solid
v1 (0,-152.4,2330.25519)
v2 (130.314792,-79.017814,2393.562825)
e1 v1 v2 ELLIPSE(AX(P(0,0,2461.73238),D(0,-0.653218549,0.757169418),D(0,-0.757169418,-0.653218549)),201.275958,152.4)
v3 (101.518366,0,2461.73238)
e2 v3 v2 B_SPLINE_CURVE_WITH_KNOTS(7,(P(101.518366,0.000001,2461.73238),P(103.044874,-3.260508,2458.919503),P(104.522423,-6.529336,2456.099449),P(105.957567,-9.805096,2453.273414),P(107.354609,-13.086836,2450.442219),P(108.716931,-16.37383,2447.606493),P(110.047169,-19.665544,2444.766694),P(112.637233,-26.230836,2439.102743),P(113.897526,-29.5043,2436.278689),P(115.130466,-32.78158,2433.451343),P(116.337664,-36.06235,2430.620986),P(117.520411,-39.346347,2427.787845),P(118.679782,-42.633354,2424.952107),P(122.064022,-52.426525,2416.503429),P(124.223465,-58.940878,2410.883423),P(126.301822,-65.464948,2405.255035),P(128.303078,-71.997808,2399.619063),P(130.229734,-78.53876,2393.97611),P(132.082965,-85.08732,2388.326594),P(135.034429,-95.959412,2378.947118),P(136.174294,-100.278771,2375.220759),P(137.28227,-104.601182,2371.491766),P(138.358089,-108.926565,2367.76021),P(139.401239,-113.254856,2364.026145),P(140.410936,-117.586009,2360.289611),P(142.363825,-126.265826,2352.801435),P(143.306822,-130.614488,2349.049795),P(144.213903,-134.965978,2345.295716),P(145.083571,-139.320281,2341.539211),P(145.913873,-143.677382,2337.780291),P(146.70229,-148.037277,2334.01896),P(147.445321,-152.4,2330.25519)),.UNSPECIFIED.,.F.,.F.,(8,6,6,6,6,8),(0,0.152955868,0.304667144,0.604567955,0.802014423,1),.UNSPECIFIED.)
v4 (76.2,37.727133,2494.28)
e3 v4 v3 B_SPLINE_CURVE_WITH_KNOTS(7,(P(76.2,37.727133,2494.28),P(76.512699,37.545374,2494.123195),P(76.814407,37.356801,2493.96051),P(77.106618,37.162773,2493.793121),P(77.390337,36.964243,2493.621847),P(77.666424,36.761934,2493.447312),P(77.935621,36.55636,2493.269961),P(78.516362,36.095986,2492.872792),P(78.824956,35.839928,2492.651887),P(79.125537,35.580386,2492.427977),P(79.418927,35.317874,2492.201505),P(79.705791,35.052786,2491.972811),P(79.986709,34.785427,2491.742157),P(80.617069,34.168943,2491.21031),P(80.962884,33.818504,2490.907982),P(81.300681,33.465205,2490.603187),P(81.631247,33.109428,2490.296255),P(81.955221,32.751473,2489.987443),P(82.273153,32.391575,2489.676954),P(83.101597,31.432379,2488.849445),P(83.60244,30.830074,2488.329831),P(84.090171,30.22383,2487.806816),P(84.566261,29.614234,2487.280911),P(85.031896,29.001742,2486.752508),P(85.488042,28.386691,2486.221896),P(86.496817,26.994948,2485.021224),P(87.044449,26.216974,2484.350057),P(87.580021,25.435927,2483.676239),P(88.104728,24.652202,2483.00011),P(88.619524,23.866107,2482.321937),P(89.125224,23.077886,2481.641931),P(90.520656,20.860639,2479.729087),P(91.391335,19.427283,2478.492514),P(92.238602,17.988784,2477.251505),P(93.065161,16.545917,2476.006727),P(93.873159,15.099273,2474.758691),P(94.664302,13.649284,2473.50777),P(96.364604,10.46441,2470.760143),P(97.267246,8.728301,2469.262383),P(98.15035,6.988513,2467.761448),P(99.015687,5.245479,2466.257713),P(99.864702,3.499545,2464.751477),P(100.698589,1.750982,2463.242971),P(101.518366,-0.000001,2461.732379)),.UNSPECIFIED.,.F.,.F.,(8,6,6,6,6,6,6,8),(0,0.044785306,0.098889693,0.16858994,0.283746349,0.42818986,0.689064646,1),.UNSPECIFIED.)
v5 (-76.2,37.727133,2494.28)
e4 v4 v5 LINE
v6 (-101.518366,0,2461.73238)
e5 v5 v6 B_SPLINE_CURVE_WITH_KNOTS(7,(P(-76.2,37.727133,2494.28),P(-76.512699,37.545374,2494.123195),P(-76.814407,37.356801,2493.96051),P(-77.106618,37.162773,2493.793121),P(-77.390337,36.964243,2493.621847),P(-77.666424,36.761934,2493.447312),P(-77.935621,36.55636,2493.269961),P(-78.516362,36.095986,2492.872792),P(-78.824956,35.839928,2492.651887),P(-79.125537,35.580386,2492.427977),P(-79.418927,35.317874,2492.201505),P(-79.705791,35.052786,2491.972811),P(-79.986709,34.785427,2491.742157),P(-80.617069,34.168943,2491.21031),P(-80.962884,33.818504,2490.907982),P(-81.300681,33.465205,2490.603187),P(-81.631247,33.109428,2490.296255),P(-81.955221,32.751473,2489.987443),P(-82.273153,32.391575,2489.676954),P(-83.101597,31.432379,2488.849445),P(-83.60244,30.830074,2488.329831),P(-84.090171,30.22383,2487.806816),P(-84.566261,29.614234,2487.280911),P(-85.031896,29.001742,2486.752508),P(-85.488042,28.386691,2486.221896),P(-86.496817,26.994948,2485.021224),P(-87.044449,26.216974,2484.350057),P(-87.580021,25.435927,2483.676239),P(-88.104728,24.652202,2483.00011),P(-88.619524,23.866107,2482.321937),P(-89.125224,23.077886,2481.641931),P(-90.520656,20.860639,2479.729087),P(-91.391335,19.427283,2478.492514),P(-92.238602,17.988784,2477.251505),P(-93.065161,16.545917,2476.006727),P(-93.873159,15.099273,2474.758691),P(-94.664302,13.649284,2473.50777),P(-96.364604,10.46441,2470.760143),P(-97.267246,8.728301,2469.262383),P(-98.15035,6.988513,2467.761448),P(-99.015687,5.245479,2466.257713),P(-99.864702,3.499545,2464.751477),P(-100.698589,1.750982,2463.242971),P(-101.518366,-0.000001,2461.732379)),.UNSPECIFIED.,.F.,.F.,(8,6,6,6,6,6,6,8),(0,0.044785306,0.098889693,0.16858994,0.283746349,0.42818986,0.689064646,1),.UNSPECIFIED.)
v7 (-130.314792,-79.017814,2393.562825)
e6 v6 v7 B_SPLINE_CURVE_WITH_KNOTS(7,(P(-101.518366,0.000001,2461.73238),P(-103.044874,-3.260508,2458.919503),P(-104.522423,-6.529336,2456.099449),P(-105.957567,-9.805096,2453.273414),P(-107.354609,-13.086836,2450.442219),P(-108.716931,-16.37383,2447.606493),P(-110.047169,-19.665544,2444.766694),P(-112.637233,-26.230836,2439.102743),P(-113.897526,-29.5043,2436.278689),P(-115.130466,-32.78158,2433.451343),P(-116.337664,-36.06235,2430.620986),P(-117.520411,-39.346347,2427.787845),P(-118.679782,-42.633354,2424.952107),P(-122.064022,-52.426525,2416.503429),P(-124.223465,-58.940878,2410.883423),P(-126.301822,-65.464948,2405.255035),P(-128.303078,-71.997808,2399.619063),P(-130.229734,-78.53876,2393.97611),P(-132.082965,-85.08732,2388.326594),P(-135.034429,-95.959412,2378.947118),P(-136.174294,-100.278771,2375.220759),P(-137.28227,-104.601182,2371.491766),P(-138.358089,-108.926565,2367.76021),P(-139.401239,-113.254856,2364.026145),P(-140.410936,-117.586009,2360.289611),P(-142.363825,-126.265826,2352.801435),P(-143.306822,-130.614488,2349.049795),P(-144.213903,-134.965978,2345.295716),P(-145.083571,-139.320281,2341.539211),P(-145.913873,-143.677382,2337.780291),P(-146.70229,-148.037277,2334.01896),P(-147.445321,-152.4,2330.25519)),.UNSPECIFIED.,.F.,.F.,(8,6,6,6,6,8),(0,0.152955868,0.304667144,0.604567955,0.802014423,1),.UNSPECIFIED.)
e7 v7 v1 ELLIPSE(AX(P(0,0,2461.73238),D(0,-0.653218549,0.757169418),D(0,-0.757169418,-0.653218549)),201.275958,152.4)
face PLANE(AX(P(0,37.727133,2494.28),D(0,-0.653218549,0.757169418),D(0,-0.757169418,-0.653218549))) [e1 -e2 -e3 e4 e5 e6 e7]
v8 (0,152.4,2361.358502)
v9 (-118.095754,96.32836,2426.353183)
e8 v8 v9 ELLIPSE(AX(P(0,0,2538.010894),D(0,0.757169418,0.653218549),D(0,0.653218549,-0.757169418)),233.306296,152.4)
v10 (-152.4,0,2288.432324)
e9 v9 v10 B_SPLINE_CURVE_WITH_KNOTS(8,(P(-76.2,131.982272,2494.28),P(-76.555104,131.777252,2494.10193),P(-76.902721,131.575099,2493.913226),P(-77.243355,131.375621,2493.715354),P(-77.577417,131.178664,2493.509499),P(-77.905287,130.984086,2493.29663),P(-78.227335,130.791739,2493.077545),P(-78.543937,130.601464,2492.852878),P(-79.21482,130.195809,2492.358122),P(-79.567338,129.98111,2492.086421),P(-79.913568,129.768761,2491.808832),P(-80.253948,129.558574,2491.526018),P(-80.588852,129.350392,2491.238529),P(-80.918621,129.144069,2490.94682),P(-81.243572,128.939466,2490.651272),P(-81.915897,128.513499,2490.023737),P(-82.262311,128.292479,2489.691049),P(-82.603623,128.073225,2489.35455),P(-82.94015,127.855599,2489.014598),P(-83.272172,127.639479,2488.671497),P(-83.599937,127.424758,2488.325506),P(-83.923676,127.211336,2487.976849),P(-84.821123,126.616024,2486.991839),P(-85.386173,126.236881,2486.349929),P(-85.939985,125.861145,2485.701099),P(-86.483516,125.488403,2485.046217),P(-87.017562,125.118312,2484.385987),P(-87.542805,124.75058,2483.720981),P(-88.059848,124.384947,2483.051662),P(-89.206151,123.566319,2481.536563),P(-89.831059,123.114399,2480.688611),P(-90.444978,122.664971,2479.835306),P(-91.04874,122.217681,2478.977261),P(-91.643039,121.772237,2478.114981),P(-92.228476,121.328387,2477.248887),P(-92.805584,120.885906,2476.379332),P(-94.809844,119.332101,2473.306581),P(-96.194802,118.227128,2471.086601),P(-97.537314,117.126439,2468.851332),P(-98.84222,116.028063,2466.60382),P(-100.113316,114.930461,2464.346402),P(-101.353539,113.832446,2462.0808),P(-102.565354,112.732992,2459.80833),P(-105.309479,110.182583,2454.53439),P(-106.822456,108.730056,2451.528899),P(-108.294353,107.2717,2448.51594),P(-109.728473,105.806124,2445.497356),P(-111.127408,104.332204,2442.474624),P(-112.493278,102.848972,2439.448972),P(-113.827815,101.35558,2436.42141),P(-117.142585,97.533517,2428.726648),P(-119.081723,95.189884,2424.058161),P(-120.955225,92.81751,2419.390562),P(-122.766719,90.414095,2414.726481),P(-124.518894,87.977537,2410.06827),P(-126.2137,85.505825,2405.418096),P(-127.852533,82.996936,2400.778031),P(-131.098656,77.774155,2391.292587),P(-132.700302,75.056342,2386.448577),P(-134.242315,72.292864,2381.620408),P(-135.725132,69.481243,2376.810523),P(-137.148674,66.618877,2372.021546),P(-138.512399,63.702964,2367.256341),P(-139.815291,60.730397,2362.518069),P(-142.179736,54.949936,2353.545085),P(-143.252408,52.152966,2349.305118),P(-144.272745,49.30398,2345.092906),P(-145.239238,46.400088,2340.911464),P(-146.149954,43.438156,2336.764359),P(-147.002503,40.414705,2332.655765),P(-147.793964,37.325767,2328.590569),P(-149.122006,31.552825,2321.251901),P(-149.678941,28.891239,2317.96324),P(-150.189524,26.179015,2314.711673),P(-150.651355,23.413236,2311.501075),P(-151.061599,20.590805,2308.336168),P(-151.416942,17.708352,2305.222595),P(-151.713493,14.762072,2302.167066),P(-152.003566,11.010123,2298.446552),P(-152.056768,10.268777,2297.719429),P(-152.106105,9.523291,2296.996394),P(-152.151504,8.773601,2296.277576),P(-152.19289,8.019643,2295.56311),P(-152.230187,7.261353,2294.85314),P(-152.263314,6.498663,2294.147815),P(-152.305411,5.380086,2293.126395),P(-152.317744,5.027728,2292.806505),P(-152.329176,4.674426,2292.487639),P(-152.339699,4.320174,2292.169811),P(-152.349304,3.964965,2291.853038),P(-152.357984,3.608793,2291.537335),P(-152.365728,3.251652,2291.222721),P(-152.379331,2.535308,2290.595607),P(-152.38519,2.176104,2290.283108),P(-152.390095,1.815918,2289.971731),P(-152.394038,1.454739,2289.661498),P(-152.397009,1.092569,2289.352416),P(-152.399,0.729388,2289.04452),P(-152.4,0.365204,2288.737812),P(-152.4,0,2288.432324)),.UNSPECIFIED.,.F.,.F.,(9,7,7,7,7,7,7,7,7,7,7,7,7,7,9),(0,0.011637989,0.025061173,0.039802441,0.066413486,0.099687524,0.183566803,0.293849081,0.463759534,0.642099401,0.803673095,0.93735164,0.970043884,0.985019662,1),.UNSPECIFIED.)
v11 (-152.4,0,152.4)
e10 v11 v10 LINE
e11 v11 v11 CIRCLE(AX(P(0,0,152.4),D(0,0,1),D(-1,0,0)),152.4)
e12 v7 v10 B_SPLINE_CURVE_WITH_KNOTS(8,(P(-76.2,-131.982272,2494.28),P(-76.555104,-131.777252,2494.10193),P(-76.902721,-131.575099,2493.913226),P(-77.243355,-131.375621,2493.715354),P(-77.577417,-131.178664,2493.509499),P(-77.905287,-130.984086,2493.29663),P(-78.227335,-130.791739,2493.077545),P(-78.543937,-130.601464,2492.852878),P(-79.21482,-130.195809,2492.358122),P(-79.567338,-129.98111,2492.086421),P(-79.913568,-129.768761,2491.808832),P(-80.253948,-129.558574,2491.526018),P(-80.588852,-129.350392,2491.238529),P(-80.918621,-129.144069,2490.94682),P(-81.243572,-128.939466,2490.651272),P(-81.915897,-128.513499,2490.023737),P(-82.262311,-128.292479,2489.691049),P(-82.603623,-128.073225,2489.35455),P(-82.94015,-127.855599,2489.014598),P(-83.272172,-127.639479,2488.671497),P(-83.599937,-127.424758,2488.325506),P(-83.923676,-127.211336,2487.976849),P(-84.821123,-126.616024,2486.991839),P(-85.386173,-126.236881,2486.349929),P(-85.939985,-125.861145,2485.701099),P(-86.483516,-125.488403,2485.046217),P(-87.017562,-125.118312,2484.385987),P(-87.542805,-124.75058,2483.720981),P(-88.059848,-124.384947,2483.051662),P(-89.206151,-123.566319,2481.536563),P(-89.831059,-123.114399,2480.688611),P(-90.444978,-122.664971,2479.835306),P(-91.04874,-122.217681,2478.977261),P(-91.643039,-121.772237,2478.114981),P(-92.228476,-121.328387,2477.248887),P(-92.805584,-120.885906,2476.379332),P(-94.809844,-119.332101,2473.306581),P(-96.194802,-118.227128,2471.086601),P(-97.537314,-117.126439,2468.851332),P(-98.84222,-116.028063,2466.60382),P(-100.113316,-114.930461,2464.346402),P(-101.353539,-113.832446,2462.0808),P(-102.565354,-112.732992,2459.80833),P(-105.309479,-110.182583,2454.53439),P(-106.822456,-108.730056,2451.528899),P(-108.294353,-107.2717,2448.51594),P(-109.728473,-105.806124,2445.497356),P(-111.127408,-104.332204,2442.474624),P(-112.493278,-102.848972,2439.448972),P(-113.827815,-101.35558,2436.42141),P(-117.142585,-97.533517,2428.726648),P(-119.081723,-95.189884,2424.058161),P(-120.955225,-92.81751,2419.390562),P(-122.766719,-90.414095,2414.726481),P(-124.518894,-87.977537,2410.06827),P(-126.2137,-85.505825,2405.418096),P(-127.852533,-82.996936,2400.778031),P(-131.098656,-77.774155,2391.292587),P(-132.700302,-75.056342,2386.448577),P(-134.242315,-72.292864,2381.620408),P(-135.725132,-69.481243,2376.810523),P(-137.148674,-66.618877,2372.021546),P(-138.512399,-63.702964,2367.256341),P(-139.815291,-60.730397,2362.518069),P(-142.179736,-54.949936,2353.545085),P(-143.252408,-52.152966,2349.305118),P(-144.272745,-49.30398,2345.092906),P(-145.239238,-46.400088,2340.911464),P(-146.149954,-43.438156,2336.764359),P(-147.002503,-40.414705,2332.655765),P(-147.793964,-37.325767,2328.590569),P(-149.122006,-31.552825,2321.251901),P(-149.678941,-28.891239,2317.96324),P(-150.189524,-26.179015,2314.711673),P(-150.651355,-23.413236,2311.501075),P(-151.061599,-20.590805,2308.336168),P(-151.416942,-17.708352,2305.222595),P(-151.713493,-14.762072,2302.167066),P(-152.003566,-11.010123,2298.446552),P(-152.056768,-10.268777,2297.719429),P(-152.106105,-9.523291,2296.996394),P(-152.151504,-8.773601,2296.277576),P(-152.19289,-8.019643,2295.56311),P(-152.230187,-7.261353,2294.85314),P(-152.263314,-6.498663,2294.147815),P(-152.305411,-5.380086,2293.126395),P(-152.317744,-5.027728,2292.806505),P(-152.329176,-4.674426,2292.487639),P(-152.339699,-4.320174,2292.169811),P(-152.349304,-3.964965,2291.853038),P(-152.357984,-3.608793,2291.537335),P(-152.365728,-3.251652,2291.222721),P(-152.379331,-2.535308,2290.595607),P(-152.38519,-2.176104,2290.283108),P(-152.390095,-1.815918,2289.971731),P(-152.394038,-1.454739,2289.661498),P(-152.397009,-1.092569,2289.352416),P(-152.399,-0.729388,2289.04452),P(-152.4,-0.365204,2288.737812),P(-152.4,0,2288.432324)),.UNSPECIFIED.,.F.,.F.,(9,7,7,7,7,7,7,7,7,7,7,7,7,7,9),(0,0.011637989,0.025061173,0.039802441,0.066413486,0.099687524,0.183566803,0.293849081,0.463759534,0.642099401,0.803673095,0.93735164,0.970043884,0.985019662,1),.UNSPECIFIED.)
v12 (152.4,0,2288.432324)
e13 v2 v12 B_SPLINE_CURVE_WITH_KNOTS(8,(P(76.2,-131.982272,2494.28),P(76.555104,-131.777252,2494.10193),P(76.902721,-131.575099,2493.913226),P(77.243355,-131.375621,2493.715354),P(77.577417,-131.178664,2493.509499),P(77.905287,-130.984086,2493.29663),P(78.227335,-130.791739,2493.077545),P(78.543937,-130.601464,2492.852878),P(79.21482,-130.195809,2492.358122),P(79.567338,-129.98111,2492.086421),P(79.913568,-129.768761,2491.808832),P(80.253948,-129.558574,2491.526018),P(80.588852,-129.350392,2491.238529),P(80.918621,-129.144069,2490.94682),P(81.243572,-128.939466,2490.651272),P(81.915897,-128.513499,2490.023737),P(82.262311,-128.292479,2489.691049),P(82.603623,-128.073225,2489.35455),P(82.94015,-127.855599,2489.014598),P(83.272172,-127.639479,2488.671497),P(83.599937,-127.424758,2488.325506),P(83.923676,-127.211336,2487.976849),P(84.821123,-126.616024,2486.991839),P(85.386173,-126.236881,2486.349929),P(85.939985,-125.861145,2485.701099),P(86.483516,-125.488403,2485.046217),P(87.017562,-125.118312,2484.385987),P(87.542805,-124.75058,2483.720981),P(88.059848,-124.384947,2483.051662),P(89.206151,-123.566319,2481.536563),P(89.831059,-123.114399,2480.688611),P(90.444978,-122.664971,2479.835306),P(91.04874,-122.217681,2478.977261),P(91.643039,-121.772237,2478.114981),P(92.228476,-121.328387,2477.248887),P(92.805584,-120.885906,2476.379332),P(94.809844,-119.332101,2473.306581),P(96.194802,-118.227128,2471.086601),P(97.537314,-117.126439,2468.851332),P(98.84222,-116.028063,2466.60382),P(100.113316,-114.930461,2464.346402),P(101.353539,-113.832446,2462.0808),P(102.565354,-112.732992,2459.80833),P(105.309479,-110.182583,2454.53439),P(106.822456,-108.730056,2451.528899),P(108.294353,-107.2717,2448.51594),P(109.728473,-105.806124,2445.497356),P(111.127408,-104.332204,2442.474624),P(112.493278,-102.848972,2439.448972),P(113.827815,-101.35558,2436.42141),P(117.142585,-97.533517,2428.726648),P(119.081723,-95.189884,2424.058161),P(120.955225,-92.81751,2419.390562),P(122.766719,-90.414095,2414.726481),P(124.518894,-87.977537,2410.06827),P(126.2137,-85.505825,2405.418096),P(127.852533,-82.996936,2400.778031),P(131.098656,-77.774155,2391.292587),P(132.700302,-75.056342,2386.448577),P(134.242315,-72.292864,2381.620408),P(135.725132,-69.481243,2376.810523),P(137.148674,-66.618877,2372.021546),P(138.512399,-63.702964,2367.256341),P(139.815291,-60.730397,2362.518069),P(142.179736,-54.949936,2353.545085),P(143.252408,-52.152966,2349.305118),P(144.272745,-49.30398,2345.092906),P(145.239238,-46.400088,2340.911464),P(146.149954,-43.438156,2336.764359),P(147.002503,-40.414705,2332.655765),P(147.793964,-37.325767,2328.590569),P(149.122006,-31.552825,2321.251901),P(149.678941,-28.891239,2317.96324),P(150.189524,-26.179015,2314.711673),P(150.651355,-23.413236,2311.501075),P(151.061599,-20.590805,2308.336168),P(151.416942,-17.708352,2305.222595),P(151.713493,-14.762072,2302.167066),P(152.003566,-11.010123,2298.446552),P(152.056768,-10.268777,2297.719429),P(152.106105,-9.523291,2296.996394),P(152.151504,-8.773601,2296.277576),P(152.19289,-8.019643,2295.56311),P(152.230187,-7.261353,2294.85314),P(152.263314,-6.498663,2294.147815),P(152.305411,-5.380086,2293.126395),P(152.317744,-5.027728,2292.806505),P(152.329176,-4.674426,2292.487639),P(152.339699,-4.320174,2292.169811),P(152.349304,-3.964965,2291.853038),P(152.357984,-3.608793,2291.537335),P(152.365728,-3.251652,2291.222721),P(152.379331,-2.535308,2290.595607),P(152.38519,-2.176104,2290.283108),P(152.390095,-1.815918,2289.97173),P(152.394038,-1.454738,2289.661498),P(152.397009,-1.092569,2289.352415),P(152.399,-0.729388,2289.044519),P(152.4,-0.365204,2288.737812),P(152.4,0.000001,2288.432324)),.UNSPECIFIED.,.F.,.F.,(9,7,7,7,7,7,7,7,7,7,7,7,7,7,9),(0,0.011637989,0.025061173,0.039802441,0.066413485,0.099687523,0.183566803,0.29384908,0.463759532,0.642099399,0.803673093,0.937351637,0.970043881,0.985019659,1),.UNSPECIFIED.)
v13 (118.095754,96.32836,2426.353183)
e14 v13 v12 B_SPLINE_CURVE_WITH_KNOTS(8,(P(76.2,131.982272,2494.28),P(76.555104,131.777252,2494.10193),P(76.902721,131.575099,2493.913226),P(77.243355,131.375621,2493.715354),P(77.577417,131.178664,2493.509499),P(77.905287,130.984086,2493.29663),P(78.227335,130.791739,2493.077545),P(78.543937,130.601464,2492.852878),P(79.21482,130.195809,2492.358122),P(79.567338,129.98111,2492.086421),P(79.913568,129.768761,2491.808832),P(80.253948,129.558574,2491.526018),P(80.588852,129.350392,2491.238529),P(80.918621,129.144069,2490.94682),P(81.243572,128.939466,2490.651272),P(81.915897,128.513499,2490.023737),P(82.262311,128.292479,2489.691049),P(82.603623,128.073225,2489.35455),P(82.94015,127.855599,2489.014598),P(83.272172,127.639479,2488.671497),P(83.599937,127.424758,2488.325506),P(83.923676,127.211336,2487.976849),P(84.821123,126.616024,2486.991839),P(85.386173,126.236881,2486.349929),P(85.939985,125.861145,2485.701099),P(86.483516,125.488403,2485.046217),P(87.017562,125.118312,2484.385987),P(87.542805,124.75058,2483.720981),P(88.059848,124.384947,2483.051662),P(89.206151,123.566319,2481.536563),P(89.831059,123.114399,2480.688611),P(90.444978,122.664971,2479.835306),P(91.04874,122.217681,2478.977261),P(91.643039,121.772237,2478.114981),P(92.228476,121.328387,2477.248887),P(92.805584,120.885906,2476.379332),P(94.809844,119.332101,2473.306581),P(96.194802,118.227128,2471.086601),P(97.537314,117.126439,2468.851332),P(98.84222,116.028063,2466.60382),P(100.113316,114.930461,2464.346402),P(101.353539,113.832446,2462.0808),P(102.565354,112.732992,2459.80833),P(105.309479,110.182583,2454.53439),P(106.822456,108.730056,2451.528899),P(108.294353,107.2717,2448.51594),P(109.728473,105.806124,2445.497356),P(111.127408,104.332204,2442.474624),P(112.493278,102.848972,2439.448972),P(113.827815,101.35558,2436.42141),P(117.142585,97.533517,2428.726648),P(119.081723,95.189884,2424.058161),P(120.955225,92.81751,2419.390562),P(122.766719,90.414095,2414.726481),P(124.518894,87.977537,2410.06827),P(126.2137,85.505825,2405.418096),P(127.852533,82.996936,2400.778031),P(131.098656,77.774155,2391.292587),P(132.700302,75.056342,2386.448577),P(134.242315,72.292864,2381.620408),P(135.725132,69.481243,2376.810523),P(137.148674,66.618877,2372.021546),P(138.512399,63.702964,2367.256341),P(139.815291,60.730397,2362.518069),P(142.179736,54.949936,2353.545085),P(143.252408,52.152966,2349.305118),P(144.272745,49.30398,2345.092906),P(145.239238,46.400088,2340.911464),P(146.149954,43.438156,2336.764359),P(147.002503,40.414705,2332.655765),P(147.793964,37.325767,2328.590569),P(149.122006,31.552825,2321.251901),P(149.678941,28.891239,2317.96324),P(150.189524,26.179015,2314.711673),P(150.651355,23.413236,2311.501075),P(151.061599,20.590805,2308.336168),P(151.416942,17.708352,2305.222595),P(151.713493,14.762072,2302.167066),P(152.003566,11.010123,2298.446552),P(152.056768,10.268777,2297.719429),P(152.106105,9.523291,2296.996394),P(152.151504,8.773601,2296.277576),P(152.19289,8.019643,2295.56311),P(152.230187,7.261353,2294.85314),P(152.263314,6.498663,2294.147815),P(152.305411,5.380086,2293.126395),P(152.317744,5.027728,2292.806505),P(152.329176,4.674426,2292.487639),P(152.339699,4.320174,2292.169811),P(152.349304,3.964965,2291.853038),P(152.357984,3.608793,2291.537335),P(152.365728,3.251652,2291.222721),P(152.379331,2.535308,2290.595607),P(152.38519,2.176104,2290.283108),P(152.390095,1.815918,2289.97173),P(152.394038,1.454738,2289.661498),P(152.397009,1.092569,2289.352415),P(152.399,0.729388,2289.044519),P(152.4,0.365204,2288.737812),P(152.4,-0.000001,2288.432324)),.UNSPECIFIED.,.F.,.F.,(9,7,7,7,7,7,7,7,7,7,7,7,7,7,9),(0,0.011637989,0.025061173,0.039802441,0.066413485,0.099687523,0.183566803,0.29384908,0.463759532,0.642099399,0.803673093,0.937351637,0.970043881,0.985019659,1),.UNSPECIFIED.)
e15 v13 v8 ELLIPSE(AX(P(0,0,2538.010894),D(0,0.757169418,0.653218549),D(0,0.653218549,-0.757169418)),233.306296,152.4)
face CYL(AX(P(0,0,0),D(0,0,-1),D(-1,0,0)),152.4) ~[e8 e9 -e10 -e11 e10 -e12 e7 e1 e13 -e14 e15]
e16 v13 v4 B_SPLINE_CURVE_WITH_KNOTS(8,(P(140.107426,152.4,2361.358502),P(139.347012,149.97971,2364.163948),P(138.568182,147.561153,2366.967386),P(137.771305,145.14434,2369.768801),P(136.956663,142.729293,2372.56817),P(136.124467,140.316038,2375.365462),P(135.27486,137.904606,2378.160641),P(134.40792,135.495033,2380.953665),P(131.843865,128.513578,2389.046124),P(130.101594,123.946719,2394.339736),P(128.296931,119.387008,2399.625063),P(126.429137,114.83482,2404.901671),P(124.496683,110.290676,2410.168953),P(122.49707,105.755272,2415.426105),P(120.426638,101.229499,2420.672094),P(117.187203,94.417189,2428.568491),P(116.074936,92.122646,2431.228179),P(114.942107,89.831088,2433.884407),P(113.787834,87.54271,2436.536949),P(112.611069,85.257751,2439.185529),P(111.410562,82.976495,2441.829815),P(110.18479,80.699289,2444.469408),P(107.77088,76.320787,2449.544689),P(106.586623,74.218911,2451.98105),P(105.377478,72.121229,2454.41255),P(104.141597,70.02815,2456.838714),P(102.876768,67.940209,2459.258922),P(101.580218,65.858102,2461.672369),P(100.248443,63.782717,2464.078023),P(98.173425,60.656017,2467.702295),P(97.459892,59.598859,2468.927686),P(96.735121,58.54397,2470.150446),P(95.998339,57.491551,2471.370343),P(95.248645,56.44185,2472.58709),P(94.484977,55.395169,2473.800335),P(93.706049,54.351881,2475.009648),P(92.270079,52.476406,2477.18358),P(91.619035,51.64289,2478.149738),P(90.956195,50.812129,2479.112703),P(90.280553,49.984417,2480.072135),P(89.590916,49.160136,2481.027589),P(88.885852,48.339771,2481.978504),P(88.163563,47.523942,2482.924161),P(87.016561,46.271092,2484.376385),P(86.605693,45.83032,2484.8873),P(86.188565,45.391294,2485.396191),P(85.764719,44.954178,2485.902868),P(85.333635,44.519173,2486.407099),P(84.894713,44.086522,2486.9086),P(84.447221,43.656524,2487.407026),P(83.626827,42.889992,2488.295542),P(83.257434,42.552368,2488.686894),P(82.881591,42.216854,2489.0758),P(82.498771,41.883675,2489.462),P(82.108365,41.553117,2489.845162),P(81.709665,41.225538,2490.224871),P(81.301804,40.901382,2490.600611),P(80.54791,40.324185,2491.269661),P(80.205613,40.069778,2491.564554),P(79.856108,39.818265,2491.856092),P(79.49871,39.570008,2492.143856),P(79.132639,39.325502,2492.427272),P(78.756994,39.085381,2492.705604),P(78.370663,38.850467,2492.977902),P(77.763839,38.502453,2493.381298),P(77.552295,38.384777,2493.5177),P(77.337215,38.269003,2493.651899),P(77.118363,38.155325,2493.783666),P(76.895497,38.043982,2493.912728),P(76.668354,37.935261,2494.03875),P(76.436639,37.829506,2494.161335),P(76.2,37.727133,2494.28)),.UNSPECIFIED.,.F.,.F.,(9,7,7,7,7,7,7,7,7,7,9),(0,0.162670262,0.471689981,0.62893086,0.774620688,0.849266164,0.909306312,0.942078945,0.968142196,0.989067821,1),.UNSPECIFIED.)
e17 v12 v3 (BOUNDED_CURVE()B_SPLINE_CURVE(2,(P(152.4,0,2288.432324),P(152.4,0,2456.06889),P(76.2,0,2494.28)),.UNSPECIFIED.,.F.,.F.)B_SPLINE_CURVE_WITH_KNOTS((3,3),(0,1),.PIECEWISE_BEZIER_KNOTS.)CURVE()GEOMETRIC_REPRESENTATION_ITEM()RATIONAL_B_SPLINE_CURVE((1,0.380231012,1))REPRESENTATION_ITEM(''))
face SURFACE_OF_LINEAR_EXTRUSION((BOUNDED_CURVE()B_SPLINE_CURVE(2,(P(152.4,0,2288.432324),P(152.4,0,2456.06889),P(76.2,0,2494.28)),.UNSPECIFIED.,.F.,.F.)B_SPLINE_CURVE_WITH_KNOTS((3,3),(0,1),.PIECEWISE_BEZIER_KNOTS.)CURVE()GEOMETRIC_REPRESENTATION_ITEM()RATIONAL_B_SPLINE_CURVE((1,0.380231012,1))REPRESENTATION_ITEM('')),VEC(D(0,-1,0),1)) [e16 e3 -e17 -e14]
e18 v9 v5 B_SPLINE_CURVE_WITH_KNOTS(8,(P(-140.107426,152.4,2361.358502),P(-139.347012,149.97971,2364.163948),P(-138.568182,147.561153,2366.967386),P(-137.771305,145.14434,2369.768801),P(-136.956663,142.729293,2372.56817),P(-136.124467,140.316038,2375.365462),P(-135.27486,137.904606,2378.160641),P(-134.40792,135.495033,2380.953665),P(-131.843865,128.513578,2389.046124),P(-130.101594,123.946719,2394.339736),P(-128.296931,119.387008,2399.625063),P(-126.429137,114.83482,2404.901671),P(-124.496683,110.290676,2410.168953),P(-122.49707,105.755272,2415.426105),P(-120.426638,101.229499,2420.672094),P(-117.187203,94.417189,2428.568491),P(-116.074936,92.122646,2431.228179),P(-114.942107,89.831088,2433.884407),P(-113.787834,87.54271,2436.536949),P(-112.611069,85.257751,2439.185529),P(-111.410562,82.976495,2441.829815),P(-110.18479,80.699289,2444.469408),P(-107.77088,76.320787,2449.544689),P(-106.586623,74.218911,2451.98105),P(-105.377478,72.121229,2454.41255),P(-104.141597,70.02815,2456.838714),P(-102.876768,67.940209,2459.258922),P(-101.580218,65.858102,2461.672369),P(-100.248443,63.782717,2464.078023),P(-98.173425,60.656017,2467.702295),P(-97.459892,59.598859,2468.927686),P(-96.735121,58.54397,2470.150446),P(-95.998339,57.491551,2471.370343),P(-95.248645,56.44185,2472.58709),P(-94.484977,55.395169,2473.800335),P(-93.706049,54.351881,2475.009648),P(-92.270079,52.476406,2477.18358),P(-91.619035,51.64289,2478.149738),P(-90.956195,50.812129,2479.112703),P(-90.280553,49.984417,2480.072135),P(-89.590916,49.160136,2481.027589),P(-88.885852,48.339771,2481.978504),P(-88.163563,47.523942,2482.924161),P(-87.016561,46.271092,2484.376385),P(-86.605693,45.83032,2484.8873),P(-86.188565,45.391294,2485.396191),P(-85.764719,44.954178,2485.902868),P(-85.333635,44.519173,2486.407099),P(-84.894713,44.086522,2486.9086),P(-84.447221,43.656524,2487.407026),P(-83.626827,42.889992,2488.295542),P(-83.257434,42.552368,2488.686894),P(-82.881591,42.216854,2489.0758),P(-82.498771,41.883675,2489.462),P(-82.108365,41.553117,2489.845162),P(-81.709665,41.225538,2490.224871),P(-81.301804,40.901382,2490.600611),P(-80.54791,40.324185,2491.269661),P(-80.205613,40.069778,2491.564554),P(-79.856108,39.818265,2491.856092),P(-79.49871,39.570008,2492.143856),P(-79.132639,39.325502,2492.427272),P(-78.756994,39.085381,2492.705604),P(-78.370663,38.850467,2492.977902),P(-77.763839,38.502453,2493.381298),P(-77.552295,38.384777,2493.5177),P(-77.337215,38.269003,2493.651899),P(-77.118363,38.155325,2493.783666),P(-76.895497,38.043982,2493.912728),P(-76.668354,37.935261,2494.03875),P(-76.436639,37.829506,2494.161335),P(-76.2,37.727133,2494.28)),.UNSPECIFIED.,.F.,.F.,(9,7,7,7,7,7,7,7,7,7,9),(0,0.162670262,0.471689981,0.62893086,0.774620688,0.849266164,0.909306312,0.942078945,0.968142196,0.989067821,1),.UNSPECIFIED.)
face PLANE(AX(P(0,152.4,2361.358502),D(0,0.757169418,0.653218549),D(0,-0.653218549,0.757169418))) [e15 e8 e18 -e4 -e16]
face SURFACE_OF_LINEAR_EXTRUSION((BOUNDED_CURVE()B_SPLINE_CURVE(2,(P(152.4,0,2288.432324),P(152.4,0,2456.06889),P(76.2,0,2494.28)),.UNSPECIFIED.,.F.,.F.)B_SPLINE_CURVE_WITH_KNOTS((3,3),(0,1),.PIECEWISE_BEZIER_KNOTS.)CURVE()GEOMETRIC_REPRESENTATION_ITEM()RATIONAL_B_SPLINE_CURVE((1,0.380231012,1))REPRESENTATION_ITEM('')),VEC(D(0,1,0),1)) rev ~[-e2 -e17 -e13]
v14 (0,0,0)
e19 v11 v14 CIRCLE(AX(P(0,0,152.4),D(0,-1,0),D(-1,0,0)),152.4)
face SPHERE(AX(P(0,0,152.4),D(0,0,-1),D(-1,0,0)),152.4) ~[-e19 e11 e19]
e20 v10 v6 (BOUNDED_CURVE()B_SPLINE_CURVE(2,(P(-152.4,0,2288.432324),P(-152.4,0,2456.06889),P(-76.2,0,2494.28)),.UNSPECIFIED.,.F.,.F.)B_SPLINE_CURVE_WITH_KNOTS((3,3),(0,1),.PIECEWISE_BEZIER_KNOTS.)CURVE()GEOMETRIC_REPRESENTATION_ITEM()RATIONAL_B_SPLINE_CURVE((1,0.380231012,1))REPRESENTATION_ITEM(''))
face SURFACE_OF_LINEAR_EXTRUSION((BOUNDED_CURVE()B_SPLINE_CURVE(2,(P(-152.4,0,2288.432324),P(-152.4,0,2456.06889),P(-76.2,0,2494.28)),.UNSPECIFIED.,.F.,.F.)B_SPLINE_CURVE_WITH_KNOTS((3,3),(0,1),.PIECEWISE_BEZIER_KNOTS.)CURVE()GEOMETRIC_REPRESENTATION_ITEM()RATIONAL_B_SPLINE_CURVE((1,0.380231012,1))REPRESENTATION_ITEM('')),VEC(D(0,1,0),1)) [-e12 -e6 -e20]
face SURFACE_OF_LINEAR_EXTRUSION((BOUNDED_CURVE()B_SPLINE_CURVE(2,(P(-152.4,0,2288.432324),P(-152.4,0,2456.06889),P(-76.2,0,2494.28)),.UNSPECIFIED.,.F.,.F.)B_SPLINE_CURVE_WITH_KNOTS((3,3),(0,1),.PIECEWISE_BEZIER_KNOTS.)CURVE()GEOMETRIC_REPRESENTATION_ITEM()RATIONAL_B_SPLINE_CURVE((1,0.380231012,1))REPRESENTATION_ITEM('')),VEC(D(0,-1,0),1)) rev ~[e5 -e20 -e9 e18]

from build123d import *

# Parameters (mm, degrees)
SKETCH1_R           = 152.4
BOSS_EXTRUDE1_DEPTH = 2494.28
CUT_EXTRUDE1_DEPTH  = 203.2
CUT_EXTRUDE2_DEPTH  = 203.2
FILLET1_R           = 152.4


with BuildPart() as part:
    # Sketch1 → Boss-Extrude1 (new body)
    with BuildSketch(Plane.XY):
        with Locations(Location((0, 0, 0), (0, 0, 180))):
            Circle(SKETCH1_R)
    extrude(amount=BOSS_EXTRUDE1_DEPTH)

    # Sketch3 → Cut-Extrude1 (cut, symmetric)
    with BuildSketch(Plane(origin=(0, 0, 0), x_dir=(0, 0, -1), z_dir=(1, 0, 0))):
        Polygon((-2361.35850174, 152.4), (-2494.28, 37.727132557), (-2330.25519021, -152.4), (-2701.978592606, -152.4), (-2701.978592606, 152.4), align=None)
    extrude(amount=CUT_EXTRUDE1_DEPTH, both=True, mode=Mode.SUBTRACT)

    # Sketch4 → Cut-Extrude2 (cut, symmetric)
    with BuildSketch(Plane(origin=(0, 0, 0), x_dir=(1, 0, 0), z_dir=(0, 1, 0))):
        with BuildLine():
            Line((-274.668681528, -2288.432323773), (-274.668681528, -2617.629818427))
            Line((-274.668681528, -2617.629818427), (274.668681528, -2617.629818427))
            Line((274.668681528, -2617.629818427), (274.668681528, -2288.432323773))
            Line((274.668681528, -2288.432323773), (152.4, -2288.432323773))
            add(Edge.make_bspline(
                [(152.4, -2288.432323773), (152.4, -2456.068889623), (76.2, -2494.28)],
                knots=[0, 0, 0, 1, 1, 1], degree=2, weights=[1, 0.380231012, 1]))
            Line((76.2, -2494.28), (-76.2, -2494.28))
            add(Edge.make_bspline(
                [(-152.4, -2288.432323773), (-152.4, -2456.068889623), (-76.2, -2494.28)],
                knots=[0, 0, 0, 1, 1, 1], degree=2, weights=[1, 0.380231012, 1]))
            Line((-152.4, -2288.432323773), (-274.668681528, -2288.432323773))
        make_face()
    extrude(amount=CUT_EXTRUDE2_DEPTH, both=True, mode=Mode.SUBTRACT)

    # Fillet1
    fillet1_edges = [part.edges().sort_by_distance(p)[0] for p in [
        (152.4, 0, 0),
    ]]
    fillet(fillet1_edges, radius=FILLET1_R)


solid = part.part
